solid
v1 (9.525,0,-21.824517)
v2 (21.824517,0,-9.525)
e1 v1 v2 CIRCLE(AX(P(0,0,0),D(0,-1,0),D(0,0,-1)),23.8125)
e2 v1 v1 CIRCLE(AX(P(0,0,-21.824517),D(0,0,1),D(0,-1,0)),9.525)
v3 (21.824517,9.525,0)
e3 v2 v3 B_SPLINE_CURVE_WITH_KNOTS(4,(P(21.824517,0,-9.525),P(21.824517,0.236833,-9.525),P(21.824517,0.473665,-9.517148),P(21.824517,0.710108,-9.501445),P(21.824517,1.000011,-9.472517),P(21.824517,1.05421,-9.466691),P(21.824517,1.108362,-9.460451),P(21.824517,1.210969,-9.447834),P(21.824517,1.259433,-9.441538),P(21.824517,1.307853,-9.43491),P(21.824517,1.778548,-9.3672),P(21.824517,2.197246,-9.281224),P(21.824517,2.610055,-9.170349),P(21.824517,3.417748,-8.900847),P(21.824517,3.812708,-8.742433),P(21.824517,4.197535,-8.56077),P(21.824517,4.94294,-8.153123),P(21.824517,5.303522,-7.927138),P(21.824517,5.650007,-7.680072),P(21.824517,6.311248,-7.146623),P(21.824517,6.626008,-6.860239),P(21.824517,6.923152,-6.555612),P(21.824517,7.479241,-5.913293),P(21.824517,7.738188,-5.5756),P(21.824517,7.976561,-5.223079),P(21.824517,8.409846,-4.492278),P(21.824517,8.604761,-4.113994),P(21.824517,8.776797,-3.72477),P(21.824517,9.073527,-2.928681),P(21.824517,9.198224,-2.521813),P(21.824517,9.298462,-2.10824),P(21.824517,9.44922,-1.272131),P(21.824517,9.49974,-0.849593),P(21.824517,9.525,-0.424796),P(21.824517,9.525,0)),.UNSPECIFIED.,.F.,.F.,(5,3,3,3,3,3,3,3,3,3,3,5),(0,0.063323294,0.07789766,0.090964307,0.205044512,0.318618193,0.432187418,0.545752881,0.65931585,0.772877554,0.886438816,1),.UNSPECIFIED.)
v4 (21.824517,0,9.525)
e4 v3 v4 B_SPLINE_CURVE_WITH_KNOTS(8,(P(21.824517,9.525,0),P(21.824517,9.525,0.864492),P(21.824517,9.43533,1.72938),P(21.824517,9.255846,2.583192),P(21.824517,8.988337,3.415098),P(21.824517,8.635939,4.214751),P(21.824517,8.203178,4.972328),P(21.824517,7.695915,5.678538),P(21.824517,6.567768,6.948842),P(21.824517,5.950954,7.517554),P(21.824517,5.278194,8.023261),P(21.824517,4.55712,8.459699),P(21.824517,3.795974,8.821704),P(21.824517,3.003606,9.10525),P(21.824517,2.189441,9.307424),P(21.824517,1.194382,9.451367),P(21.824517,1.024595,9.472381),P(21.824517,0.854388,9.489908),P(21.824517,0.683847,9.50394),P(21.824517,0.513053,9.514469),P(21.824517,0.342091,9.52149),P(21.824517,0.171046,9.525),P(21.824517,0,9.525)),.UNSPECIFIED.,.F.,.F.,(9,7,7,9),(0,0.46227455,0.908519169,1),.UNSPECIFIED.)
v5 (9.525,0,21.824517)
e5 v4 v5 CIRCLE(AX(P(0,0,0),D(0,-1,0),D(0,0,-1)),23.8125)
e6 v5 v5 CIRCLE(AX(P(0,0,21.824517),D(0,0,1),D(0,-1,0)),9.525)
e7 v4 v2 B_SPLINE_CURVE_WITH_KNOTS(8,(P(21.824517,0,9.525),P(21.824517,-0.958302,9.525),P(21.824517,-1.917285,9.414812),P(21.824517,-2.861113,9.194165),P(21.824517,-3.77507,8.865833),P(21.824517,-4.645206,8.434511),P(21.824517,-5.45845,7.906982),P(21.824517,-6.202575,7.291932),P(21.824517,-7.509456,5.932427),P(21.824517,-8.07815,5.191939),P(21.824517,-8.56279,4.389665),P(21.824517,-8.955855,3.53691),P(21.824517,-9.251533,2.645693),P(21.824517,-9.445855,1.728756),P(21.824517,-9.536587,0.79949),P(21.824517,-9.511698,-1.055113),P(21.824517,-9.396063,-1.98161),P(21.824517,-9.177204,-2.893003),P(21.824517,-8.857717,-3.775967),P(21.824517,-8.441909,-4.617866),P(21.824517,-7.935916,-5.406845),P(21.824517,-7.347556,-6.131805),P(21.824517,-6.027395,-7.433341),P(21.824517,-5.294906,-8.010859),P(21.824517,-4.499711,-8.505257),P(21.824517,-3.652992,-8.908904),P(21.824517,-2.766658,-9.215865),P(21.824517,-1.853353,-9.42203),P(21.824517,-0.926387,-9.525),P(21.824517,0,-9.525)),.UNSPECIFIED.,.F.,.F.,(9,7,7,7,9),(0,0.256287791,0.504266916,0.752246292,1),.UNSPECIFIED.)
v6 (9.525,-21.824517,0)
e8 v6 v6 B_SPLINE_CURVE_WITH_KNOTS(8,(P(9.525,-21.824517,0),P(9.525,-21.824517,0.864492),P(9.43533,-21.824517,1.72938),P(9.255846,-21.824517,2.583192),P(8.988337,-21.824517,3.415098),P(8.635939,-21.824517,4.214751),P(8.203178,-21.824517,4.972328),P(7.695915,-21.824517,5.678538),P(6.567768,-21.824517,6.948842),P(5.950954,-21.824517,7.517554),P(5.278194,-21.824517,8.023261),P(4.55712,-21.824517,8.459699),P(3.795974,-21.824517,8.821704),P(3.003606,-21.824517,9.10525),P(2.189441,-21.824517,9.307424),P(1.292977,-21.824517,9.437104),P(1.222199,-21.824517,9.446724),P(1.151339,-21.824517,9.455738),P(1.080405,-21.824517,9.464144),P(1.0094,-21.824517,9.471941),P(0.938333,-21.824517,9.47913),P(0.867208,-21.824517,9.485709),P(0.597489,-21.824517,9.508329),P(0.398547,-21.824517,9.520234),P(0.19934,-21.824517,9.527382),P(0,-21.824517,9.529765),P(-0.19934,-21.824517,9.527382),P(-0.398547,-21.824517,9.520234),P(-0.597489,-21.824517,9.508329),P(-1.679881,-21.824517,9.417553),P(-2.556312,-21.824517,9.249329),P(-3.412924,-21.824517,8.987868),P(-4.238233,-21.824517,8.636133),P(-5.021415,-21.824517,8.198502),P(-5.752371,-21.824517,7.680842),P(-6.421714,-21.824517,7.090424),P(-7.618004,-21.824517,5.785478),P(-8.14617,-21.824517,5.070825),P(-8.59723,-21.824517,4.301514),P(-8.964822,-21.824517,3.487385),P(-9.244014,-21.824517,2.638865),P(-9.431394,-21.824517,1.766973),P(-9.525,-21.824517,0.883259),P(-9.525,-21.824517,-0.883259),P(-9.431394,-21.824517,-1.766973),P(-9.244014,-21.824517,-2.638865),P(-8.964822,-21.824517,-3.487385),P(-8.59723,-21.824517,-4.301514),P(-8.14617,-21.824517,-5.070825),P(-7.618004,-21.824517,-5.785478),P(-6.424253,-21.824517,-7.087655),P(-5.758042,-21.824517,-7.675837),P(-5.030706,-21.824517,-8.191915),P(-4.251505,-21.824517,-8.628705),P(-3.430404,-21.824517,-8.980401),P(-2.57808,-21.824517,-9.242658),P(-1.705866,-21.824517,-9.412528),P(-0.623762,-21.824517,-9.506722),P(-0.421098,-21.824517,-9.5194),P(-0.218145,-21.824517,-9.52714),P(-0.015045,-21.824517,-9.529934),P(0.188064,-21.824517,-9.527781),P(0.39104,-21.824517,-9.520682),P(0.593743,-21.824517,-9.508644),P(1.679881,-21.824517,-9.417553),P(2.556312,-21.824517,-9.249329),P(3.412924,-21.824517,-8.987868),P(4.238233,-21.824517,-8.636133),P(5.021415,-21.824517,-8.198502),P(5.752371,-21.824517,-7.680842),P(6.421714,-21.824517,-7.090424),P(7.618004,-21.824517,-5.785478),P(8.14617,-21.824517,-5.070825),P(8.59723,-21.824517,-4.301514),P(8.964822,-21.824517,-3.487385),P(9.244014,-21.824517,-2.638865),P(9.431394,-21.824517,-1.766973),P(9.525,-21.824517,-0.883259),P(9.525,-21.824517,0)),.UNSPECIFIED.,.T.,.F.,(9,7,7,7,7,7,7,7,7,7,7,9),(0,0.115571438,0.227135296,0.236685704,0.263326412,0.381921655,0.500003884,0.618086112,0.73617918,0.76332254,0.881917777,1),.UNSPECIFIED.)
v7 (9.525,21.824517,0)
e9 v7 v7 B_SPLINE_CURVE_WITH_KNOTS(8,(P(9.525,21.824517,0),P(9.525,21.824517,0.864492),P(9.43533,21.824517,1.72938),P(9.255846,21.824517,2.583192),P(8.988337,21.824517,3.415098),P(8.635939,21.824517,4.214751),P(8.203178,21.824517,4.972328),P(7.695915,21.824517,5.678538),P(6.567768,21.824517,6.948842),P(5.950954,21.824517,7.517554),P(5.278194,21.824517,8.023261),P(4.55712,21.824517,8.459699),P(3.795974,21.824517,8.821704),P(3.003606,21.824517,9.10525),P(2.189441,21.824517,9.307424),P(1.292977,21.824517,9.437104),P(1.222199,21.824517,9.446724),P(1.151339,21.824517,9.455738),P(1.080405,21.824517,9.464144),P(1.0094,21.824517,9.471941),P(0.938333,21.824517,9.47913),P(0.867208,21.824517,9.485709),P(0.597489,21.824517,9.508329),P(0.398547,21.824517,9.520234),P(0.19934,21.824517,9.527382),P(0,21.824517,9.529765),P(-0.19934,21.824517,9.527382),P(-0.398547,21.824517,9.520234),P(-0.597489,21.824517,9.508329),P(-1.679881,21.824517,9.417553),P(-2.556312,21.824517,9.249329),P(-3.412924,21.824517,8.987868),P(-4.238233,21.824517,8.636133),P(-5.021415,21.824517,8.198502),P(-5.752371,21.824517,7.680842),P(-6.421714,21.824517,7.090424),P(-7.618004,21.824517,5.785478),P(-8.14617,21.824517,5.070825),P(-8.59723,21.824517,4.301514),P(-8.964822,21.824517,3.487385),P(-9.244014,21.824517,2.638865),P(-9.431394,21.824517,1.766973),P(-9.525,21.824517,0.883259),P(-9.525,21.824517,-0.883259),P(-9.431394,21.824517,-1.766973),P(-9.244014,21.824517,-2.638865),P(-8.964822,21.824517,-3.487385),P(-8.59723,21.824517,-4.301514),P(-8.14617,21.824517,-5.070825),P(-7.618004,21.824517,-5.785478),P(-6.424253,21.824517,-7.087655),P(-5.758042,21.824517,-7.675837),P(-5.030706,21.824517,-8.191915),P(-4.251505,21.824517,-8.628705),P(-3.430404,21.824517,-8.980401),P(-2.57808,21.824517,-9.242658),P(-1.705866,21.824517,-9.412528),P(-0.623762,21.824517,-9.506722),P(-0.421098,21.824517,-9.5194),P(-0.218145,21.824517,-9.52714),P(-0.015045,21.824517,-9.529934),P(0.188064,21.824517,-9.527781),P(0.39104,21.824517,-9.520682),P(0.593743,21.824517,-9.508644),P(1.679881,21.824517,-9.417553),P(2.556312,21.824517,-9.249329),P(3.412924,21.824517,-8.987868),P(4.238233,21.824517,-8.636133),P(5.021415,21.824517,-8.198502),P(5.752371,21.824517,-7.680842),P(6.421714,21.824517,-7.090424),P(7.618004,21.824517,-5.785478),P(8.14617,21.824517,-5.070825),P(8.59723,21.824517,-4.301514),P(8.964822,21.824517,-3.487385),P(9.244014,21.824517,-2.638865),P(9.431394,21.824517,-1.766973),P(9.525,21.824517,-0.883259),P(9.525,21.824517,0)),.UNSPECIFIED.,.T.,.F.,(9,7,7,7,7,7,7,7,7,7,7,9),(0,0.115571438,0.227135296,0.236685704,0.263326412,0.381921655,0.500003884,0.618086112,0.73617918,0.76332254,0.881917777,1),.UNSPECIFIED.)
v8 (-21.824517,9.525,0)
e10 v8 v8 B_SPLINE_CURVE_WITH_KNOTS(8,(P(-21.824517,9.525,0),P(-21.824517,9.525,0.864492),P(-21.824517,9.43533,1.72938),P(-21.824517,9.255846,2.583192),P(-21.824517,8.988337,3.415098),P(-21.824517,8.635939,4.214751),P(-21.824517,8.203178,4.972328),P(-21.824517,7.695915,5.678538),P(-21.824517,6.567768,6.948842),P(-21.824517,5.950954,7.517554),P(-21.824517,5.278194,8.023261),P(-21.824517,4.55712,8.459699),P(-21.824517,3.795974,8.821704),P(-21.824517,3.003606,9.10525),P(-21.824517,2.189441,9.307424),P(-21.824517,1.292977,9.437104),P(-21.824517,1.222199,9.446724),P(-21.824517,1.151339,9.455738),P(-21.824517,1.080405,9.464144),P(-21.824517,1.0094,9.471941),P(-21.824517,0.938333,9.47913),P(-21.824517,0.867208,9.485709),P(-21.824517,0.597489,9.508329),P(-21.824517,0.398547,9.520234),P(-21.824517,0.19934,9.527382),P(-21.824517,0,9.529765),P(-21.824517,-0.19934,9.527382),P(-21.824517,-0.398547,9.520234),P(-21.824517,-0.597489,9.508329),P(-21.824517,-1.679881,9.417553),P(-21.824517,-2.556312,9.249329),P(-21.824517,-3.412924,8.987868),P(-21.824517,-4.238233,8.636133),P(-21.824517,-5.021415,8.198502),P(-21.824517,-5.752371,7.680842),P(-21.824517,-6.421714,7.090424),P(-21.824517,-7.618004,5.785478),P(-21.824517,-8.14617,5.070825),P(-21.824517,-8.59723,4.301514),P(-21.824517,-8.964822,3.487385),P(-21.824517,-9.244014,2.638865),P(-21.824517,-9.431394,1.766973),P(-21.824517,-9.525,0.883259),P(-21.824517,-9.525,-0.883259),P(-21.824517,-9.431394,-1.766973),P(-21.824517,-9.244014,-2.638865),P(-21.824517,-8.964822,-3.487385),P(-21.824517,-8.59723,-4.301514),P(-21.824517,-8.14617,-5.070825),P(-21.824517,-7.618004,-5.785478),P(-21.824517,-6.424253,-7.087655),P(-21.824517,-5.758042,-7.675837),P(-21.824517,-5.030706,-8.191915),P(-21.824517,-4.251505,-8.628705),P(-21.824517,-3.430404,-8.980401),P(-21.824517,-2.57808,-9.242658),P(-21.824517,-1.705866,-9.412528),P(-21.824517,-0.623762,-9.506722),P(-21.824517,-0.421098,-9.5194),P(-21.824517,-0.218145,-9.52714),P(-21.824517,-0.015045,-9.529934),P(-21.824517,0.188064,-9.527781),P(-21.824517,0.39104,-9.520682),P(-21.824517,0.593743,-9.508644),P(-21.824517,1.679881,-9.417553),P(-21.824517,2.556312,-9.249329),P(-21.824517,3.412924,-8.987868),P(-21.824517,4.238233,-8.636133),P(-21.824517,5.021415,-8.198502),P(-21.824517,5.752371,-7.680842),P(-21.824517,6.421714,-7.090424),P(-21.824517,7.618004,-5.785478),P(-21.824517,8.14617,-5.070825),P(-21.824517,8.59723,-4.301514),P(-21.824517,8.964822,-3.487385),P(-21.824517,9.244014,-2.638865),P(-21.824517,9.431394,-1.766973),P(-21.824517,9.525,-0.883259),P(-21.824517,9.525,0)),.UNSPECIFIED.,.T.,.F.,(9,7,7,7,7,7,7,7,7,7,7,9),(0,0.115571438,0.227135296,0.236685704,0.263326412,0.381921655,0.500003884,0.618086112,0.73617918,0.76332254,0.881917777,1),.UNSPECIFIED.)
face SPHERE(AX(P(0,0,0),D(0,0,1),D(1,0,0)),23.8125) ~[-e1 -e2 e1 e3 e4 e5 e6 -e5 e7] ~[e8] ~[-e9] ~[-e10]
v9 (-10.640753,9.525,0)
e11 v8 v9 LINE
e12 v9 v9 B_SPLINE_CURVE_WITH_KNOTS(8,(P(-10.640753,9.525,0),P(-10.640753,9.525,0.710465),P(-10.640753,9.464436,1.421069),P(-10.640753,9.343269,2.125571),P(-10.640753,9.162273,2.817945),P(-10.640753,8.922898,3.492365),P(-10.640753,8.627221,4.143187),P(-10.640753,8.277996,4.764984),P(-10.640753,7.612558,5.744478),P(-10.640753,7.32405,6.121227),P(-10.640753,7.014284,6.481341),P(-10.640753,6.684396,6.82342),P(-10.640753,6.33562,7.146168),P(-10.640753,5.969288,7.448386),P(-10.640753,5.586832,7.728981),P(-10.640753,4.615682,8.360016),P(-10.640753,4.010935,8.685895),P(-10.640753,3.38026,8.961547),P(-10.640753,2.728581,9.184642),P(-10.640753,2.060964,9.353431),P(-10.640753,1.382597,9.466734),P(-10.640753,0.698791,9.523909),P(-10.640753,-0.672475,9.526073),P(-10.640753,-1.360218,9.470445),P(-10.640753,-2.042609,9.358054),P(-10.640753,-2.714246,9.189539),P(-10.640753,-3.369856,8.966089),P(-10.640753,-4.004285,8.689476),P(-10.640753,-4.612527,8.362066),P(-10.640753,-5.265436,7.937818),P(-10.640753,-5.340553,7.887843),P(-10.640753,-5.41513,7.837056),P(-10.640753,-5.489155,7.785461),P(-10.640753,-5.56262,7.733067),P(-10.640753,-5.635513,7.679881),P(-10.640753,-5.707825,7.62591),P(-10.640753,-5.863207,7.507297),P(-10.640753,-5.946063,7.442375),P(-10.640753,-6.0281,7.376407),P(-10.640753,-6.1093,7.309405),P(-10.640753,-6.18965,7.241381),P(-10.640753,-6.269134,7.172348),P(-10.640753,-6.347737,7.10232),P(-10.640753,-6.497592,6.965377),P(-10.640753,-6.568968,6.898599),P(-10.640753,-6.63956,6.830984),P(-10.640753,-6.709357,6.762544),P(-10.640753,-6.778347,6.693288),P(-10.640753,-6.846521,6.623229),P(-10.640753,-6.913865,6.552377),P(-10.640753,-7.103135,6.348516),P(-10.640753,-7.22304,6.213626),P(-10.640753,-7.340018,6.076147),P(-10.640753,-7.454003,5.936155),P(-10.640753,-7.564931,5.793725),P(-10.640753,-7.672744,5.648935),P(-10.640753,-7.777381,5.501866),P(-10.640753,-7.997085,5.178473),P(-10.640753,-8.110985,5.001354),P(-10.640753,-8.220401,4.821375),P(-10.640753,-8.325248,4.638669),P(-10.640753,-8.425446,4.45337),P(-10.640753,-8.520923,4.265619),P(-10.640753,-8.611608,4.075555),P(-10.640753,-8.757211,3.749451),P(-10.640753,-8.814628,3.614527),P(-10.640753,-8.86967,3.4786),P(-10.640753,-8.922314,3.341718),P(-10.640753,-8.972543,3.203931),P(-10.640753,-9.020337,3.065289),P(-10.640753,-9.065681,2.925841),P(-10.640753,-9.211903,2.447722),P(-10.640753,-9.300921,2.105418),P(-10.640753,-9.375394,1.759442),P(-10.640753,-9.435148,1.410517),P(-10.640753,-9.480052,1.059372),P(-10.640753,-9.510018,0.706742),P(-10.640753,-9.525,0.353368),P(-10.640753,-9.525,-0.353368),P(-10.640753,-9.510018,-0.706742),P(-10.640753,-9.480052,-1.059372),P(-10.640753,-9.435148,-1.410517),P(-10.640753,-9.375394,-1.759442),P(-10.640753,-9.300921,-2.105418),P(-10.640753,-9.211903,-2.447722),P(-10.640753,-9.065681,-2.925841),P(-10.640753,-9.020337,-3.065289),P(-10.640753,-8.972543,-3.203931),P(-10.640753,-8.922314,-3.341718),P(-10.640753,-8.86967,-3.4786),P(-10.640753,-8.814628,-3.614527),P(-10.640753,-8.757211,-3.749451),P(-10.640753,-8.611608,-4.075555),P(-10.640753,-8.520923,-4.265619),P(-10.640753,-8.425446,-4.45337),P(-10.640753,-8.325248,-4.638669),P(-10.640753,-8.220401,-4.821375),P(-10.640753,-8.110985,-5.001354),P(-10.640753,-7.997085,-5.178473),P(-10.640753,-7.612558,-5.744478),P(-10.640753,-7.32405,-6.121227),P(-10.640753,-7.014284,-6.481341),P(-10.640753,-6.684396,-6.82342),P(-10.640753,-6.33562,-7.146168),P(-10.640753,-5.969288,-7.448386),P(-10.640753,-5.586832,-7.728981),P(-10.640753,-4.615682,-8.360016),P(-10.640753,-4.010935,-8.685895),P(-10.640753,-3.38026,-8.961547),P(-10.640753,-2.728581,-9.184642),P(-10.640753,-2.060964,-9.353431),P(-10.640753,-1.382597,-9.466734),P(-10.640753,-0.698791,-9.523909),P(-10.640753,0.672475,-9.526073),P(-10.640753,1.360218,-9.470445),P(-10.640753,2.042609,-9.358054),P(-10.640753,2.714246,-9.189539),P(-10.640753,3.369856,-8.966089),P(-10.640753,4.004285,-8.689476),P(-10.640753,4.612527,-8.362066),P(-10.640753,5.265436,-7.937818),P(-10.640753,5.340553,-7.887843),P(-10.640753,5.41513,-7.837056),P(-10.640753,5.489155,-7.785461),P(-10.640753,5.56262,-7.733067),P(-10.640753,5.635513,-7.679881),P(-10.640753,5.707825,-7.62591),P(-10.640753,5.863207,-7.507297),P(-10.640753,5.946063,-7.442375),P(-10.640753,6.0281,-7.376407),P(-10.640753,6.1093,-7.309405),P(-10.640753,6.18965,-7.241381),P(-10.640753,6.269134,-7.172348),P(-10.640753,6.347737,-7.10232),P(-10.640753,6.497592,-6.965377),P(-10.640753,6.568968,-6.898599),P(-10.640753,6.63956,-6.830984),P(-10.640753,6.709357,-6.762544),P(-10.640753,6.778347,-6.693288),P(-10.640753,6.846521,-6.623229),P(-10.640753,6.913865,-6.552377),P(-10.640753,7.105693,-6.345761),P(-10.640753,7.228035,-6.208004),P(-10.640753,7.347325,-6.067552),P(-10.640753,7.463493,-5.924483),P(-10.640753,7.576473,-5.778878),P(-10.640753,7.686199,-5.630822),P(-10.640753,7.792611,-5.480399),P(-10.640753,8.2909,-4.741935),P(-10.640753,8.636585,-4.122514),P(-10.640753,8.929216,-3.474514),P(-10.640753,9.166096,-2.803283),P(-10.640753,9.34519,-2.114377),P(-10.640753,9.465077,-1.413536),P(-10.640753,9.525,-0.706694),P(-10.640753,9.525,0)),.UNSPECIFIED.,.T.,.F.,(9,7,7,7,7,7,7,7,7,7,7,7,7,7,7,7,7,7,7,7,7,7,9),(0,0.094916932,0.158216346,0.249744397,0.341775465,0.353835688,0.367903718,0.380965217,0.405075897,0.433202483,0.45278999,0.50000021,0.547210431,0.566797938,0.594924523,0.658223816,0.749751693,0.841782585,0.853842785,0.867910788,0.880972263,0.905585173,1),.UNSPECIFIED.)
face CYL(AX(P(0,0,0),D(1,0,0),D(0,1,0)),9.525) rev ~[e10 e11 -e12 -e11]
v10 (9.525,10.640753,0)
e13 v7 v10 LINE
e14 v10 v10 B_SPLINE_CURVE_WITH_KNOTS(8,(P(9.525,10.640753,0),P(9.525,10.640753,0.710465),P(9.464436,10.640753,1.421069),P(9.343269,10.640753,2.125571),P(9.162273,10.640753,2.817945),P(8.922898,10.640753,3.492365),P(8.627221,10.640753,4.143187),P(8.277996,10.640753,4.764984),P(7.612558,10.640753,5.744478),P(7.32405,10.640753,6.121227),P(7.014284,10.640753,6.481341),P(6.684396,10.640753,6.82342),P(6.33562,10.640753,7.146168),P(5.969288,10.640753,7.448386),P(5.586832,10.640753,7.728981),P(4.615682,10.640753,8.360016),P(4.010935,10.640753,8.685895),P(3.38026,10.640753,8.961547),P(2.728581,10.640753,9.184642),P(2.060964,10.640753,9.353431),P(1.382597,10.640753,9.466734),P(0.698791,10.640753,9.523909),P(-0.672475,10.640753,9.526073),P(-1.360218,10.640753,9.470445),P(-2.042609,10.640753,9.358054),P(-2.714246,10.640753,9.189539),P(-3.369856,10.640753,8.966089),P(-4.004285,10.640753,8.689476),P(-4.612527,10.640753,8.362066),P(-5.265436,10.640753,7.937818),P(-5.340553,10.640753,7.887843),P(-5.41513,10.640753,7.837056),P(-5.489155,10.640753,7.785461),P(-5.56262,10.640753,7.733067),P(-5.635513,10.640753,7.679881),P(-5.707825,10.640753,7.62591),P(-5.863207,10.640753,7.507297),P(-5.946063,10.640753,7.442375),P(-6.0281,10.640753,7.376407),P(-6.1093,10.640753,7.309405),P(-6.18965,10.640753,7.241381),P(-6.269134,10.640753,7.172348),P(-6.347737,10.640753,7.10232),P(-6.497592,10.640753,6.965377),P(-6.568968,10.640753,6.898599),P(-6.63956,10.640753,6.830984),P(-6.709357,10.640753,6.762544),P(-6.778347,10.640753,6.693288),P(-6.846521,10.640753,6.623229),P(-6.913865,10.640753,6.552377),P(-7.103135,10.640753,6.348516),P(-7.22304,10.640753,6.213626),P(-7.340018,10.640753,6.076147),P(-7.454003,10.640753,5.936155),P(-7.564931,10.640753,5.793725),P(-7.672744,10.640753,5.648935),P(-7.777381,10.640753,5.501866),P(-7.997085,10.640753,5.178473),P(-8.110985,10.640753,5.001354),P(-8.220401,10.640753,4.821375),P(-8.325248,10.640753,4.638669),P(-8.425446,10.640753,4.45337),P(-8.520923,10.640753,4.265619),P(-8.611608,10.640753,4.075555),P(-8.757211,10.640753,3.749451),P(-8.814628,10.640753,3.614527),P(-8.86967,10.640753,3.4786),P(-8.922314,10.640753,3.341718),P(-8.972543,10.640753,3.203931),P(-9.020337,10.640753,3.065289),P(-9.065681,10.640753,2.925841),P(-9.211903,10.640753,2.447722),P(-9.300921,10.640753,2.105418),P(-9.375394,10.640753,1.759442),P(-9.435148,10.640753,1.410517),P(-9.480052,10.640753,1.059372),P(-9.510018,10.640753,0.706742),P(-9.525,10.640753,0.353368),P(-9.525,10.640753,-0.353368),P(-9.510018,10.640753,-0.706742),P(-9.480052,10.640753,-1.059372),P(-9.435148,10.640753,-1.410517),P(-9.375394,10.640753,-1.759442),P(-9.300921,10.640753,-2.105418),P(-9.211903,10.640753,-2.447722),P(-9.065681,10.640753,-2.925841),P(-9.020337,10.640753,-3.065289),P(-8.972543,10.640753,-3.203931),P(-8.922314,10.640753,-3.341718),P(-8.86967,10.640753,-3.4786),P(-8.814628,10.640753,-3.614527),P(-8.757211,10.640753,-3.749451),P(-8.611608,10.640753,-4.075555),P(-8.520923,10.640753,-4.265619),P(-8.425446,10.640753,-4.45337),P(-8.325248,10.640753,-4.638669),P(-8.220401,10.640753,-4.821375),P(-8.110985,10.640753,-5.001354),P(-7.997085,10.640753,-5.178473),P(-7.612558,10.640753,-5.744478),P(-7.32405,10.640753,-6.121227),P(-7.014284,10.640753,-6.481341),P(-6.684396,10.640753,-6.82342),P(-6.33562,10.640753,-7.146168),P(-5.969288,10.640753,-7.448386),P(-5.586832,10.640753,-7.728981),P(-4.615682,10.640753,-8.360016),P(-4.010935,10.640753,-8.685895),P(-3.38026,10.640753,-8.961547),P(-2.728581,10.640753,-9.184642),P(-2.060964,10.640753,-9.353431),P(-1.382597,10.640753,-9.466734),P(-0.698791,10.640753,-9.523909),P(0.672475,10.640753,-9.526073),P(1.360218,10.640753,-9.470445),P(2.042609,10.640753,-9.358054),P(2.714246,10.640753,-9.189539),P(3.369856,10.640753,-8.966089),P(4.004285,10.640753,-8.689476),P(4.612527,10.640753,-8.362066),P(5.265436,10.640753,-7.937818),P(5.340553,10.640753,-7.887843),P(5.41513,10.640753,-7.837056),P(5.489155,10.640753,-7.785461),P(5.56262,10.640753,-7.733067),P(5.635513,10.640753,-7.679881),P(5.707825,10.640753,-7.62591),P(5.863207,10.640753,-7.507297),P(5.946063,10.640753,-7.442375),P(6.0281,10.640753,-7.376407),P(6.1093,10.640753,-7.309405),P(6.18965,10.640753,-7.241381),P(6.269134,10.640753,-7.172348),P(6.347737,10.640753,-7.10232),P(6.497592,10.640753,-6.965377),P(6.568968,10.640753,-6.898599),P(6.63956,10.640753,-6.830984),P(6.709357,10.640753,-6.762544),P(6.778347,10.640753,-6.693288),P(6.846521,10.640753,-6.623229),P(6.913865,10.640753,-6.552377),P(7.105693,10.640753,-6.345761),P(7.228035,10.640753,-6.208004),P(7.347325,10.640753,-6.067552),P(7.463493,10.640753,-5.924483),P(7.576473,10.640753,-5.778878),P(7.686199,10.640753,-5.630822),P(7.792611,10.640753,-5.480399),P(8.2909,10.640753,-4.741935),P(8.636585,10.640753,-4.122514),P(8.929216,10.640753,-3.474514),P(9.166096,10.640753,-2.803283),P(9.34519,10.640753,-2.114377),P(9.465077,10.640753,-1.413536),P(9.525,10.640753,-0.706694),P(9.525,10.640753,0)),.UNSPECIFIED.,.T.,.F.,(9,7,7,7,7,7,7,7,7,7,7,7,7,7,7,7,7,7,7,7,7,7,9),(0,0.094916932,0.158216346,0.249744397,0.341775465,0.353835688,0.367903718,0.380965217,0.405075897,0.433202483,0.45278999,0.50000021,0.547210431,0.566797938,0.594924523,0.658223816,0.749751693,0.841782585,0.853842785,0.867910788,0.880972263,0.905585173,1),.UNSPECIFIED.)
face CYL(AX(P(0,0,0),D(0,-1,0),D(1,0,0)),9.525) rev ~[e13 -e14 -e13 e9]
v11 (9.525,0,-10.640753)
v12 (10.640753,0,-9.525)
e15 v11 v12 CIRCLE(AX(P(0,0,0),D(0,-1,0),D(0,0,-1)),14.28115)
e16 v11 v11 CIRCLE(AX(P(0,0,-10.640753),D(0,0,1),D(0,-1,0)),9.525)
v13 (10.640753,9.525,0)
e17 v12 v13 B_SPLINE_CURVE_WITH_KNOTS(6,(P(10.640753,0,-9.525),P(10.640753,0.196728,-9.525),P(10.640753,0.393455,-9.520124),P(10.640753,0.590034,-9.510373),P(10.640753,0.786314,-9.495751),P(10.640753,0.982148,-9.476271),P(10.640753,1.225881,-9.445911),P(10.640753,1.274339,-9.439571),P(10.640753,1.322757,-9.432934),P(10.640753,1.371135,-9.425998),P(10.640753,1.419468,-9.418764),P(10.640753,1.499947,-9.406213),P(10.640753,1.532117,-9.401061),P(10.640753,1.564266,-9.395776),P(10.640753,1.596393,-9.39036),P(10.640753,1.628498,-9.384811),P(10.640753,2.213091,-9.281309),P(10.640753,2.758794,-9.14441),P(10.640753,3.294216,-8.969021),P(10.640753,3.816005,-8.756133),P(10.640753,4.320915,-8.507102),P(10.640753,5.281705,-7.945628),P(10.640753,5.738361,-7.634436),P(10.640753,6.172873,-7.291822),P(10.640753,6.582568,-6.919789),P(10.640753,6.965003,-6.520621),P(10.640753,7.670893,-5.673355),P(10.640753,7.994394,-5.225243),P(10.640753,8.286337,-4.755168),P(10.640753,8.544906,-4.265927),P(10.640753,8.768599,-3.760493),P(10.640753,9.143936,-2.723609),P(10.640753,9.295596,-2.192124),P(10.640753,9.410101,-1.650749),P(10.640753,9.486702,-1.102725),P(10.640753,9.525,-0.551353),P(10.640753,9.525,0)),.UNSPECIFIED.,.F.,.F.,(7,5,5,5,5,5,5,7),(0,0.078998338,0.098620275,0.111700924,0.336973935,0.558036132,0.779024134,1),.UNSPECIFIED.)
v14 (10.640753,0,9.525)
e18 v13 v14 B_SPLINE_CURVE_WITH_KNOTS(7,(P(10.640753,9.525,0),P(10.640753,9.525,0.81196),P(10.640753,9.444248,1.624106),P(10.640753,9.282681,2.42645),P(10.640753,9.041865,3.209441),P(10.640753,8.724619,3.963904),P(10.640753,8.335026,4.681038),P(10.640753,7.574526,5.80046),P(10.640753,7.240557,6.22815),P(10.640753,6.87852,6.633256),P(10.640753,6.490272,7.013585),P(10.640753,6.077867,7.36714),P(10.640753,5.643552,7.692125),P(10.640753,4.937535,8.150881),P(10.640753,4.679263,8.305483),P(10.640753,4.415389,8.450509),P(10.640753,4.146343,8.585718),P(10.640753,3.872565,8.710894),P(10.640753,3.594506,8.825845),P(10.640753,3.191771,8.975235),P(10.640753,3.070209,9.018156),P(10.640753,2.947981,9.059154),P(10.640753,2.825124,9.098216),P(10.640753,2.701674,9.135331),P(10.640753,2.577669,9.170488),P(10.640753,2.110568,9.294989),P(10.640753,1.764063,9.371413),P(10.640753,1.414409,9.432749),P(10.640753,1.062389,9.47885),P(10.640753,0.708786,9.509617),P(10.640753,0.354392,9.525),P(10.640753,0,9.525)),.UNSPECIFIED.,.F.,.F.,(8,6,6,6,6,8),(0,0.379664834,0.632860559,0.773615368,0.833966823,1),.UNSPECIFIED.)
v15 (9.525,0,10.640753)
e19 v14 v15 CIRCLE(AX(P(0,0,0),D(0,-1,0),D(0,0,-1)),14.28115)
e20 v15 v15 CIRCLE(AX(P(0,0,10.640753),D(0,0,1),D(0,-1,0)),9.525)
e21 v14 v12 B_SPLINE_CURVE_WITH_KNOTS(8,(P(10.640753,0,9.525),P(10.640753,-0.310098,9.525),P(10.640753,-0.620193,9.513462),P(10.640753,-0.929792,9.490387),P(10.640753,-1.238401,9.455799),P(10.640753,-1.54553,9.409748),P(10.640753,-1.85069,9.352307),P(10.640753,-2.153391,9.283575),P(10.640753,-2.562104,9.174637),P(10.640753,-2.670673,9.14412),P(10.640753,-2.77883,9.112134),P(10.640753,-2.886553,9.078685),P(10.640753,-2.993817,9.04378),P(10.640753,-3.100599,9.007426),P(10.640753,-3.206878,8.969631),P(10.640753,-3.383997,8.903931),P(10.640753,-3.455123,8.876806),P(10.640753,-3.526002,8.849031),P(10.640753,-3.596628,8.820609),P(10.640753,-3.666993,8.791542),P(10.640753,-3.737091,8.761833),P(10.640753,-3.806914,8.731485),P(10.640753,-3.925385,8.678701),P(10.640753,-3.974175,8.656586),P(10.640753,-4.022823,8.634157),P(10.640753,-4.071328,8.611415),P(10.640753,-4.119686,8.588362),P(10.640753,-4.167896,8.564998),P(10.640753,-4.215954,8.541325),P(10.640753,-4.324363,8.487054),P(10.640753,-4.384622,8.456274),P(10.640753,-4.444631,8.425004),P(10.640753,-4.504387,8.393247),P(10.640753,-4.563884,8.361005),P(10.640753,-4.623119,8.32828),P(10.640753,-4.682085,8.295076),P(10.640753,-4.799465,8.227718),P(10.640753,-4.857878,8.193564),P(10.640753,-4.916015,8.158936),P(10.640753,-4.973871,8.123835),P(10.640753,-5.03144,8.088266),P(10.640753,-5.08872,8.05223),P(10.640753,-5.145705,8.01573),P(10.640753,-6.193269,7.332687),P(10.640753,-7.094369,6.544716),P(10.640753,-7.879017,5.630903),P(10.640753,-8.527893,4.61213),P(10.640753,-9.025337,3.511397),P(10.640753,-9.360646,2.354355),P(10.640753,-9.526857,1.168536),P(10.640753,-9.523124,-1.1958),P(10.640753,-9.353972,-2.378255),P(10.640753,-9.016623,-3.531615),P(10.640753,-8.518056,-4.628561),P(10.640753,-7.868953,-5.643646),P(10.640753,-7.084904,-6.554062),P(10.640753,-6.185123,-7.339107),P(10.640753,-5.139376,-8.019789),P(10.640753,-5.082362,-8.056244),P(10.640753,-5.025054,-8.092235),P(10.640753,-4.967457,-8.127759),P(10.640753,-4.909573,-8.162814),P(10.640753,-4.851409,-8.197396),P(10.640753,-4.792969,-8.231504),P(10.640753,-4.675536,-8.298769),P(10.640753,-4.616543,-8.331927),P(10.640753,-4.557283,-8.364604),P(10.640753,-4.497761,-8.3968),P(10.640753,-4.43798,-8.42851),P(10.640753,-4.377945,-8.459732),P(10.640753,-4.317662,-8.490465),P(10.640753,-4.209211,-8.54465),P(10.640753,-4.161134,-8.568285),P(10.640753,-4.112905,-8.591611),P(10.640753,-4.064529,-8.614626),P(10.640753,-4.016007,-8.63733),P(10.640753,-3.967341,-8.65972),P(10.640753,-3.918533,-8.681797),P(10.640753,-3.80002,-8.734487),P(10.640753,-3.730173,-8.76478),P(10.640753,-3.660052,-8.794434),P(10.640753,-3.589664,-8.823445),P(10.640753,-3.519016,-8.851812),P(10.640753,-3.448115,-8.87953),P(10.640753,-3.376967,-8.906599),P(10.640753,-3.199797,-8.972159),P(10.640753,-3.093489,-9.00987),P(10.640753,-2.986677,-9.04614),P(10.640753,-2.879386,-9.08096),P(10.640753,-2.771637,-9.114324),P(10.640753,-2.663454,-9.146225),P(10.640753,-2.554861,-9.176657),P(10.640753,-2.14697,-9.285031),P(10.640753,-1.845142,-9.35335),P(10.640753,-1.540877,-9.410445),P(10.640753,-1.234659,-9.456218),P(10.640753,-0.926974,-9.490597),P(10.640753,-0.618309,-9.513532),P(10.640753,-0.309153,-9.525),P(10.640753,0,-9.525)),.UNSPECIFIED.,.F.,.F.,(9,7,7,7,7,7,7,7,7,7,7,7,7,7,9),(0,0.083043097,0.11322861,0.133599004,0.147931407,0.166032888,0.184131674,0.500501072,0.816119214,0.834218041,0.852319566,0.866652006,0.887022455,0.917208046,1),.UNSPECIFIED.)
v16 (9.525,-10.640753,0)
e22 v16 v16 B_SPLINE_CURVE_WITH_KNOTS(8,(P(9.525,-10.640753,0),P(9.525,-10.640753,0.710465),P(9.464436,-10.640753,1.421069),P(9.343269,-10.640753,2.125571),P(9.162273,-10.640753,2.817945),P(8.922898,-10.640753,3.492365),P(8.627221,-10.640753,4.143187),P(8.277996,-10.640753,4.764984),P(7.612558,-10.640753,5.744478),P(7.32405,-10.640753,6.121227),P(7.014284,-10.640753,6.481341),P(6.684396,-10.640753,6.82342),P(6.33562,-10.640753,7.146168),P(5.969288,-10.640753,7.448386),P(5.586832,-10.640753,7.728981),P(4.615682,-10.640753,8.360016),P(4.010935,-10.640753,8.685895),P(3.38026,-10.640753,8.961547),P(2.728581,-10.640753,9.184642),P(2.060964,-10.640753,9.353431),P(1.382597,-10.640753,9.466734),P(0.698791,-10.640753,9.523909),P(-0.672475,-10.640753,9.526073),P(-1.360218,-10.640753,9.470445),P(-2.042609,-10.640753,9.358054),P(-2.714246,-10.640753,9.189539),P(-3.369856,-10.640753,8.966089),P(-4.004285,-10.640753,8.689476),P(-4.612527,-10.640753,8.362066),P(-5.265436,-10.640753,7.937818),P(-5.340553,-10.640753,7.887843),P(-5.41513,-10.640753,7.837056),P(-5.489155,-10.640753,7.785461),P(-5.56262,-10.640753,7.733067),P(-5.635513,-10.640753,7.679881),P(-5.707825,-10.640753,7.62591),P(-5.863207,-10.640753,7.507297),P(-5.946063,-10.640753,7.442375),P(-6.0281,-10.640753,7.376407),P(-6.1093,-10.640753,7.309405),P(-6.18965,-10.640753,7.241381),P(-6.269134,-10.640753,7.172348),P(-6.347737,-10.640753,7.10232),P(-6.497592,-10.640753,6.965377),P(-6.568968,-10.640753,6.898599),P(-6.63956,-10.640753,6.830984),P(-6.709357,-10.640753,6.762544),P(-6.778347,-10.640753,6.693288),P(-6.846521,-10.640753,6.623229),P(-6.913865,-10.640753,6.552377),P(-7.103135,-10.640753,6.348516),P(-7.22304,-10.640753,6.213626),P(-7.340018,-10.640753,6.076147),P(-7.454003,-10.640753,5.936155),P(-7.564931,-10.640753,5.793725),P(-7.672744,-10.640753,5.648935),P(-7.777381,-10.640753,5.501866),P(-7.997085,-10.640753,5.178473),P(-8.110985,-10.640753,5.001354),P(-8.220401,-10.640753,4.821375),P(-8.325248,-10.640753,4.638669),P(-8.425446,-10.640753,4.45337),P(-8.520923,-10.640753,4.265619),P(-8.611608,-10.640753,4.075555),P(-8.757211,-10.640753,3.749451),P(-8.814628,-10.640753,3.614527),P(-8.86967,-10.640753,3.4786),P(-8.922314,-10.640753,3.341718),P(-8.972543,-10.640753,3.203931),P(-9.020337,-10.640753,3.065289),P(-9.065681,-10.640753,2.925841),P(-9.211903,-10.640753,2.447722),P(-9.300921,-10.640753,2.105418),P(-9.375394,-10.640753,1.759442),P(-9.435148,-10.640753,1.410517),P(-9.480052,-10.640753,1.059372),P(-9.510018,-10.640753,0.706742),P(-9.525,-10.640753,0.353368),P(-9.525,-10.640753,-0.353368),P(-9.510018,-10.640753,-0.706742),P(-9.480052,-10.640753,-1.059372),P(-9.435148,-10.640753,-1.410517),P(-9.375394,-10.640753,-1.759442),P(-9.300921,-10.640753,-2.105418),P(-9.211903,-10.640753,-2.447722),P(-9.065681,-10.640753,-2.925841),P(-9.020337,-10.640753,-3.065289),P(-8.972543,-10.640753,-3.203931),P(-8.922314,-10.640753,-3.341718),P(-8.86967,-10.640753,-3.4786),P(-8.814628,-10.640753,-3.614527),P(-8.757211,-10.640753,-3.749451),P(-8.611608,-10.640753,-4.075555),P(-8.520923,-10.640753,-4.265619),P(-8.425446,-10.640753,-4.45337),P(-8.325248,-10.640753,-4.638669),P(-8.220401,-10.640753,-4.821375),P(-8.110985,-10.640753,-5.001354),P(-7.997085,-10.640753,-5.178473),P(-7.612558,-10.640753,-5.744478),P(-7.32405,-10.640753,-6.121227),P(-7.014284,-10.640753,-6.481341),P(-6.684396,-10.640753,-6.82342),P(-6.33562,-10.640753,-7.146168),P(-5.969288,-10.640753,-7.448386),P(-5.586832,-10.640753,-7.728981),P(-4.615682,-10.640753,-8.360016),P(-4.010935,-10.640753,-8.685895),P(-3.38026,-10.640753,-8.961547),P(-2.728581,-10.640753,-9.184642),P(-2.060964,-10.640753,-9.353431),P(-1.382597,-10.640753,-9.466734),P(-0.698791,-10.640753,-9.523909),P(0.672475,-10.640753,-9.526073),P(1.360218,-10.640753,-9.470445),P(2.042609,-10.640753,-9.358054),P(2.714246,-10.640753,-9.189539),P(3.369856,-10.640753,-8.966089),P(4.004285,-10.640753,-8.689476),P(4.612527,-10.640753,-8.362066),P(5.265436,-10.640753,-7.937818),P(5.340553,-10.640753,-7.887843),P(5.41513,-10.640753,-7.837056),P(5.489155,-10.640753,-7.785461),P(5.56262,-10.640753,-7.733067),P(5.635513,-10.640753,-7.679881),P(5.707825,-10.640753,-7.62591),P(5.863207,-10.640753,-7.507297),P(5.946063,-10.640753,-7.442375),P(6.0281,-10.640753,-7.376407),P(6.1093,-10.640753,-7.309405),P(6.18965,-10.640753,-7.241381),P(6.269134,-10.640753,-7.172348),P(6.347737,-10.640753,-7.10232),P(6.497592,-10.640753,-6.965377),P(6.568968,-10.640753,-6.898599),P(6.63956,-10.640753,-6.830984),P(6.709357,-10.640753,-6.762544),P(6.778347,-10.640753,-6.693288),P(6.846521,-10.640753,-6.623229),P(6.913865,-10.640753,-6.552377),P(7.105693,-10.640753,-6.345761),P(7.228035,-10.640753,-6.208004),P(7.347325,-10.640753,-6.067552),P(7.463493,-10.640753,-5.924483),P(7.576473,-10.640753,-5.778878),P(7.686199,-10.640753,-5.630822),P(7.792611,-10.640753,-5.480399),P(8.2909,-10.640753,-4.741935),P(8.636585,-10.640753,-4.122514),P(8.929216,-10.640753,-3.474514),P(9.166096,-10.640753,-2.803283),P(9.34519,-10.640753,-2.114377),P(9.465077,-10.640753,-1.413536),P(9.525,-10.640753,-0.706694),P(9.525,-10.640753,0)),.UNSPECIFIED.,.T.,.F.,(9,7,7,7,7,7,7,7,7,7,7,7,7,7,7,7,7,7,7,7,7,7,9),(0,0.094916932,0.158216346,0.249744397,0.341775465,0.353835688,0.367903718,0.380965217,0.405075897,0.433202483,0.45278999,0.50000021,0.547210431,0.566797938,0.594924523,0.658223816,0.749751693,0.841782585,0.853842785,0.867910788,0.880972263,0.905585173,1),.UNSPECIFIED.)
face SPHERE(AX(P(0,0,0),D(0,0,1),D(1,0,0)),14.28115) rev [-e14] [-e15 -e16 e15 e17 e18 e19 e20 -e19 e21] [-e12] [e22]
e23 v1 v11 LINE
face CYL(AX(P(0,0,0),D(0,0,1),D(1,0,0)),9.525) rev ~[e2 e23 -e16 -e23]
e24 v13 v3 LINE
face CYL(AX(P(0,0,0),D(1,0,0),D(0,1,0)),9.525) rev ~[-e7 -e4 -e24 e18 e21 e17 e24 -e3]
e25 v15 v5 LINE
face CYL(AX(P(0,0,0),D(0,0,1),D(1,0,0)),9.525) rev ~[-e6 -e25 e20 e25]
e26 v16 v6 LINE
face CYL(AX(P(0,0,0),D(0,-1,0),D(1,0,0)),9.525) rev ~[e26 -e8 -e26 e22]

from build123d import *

# Parameters (mm, degrees)
F4_R     = 9.525
F5_DEPTH = 29.36875
F6_R     = 9.525
F7_DEPTH = 29.36875
F8_R     = 9.525
F9_DEPTH = 29.36875


with BuildPart() as f1:
    # F0 (on Front) → F1 (revolve)
    with BuildSketch(Plane.XZ):
        with BuildLine():
            Line((0, 23.8125), (0, -23.8125))
            ThreePointArc((0, -23.8125), (23.8125, 0), (0, 23.8125))
        make_face()
    revolve(axis=Axis((0, 0, 0), (0, 0, -1)))

    # F2 (on Front) → F3 (revolve, cut)
    with BuildSketch(Plane.XZ):
        with BuildLine():
            Line((0, 14.28115), (0, -14.28115))
            ThreePointArc((0, -14.28115), (14.28115, 0), (0, 14.28115))
        make_face()
    revolve(axis=Axis((0, 0, 0), (0, 0, -1)), mode=Mode.SUBTRACT)

    # F4 (on Front) → F5 (cut, symmetric)
    with BuildSketch(Plane.XZ):
        Circle(F4_R)
    extrude(amount=F5_DEPTH, both=True, mode=Mode.SUBTRACT)

    # F6 (on Right) → F7 (cut, symmetric)
    with BuildSketch(Plane.YZ):
        Circle(F6_R)
    extrude(amount=F7_DEPTH, both=True, mode=Mode.SUBTRACT)

    # F8 (on Top) → F9 (cut, symmetric)
    with BuildSketch(Plane.XY):
        Circle(F8_R)
    extrude(amount=F9_DEPTH, both=True, mode=Mode.SUBTRACT)


solid = f1.part
